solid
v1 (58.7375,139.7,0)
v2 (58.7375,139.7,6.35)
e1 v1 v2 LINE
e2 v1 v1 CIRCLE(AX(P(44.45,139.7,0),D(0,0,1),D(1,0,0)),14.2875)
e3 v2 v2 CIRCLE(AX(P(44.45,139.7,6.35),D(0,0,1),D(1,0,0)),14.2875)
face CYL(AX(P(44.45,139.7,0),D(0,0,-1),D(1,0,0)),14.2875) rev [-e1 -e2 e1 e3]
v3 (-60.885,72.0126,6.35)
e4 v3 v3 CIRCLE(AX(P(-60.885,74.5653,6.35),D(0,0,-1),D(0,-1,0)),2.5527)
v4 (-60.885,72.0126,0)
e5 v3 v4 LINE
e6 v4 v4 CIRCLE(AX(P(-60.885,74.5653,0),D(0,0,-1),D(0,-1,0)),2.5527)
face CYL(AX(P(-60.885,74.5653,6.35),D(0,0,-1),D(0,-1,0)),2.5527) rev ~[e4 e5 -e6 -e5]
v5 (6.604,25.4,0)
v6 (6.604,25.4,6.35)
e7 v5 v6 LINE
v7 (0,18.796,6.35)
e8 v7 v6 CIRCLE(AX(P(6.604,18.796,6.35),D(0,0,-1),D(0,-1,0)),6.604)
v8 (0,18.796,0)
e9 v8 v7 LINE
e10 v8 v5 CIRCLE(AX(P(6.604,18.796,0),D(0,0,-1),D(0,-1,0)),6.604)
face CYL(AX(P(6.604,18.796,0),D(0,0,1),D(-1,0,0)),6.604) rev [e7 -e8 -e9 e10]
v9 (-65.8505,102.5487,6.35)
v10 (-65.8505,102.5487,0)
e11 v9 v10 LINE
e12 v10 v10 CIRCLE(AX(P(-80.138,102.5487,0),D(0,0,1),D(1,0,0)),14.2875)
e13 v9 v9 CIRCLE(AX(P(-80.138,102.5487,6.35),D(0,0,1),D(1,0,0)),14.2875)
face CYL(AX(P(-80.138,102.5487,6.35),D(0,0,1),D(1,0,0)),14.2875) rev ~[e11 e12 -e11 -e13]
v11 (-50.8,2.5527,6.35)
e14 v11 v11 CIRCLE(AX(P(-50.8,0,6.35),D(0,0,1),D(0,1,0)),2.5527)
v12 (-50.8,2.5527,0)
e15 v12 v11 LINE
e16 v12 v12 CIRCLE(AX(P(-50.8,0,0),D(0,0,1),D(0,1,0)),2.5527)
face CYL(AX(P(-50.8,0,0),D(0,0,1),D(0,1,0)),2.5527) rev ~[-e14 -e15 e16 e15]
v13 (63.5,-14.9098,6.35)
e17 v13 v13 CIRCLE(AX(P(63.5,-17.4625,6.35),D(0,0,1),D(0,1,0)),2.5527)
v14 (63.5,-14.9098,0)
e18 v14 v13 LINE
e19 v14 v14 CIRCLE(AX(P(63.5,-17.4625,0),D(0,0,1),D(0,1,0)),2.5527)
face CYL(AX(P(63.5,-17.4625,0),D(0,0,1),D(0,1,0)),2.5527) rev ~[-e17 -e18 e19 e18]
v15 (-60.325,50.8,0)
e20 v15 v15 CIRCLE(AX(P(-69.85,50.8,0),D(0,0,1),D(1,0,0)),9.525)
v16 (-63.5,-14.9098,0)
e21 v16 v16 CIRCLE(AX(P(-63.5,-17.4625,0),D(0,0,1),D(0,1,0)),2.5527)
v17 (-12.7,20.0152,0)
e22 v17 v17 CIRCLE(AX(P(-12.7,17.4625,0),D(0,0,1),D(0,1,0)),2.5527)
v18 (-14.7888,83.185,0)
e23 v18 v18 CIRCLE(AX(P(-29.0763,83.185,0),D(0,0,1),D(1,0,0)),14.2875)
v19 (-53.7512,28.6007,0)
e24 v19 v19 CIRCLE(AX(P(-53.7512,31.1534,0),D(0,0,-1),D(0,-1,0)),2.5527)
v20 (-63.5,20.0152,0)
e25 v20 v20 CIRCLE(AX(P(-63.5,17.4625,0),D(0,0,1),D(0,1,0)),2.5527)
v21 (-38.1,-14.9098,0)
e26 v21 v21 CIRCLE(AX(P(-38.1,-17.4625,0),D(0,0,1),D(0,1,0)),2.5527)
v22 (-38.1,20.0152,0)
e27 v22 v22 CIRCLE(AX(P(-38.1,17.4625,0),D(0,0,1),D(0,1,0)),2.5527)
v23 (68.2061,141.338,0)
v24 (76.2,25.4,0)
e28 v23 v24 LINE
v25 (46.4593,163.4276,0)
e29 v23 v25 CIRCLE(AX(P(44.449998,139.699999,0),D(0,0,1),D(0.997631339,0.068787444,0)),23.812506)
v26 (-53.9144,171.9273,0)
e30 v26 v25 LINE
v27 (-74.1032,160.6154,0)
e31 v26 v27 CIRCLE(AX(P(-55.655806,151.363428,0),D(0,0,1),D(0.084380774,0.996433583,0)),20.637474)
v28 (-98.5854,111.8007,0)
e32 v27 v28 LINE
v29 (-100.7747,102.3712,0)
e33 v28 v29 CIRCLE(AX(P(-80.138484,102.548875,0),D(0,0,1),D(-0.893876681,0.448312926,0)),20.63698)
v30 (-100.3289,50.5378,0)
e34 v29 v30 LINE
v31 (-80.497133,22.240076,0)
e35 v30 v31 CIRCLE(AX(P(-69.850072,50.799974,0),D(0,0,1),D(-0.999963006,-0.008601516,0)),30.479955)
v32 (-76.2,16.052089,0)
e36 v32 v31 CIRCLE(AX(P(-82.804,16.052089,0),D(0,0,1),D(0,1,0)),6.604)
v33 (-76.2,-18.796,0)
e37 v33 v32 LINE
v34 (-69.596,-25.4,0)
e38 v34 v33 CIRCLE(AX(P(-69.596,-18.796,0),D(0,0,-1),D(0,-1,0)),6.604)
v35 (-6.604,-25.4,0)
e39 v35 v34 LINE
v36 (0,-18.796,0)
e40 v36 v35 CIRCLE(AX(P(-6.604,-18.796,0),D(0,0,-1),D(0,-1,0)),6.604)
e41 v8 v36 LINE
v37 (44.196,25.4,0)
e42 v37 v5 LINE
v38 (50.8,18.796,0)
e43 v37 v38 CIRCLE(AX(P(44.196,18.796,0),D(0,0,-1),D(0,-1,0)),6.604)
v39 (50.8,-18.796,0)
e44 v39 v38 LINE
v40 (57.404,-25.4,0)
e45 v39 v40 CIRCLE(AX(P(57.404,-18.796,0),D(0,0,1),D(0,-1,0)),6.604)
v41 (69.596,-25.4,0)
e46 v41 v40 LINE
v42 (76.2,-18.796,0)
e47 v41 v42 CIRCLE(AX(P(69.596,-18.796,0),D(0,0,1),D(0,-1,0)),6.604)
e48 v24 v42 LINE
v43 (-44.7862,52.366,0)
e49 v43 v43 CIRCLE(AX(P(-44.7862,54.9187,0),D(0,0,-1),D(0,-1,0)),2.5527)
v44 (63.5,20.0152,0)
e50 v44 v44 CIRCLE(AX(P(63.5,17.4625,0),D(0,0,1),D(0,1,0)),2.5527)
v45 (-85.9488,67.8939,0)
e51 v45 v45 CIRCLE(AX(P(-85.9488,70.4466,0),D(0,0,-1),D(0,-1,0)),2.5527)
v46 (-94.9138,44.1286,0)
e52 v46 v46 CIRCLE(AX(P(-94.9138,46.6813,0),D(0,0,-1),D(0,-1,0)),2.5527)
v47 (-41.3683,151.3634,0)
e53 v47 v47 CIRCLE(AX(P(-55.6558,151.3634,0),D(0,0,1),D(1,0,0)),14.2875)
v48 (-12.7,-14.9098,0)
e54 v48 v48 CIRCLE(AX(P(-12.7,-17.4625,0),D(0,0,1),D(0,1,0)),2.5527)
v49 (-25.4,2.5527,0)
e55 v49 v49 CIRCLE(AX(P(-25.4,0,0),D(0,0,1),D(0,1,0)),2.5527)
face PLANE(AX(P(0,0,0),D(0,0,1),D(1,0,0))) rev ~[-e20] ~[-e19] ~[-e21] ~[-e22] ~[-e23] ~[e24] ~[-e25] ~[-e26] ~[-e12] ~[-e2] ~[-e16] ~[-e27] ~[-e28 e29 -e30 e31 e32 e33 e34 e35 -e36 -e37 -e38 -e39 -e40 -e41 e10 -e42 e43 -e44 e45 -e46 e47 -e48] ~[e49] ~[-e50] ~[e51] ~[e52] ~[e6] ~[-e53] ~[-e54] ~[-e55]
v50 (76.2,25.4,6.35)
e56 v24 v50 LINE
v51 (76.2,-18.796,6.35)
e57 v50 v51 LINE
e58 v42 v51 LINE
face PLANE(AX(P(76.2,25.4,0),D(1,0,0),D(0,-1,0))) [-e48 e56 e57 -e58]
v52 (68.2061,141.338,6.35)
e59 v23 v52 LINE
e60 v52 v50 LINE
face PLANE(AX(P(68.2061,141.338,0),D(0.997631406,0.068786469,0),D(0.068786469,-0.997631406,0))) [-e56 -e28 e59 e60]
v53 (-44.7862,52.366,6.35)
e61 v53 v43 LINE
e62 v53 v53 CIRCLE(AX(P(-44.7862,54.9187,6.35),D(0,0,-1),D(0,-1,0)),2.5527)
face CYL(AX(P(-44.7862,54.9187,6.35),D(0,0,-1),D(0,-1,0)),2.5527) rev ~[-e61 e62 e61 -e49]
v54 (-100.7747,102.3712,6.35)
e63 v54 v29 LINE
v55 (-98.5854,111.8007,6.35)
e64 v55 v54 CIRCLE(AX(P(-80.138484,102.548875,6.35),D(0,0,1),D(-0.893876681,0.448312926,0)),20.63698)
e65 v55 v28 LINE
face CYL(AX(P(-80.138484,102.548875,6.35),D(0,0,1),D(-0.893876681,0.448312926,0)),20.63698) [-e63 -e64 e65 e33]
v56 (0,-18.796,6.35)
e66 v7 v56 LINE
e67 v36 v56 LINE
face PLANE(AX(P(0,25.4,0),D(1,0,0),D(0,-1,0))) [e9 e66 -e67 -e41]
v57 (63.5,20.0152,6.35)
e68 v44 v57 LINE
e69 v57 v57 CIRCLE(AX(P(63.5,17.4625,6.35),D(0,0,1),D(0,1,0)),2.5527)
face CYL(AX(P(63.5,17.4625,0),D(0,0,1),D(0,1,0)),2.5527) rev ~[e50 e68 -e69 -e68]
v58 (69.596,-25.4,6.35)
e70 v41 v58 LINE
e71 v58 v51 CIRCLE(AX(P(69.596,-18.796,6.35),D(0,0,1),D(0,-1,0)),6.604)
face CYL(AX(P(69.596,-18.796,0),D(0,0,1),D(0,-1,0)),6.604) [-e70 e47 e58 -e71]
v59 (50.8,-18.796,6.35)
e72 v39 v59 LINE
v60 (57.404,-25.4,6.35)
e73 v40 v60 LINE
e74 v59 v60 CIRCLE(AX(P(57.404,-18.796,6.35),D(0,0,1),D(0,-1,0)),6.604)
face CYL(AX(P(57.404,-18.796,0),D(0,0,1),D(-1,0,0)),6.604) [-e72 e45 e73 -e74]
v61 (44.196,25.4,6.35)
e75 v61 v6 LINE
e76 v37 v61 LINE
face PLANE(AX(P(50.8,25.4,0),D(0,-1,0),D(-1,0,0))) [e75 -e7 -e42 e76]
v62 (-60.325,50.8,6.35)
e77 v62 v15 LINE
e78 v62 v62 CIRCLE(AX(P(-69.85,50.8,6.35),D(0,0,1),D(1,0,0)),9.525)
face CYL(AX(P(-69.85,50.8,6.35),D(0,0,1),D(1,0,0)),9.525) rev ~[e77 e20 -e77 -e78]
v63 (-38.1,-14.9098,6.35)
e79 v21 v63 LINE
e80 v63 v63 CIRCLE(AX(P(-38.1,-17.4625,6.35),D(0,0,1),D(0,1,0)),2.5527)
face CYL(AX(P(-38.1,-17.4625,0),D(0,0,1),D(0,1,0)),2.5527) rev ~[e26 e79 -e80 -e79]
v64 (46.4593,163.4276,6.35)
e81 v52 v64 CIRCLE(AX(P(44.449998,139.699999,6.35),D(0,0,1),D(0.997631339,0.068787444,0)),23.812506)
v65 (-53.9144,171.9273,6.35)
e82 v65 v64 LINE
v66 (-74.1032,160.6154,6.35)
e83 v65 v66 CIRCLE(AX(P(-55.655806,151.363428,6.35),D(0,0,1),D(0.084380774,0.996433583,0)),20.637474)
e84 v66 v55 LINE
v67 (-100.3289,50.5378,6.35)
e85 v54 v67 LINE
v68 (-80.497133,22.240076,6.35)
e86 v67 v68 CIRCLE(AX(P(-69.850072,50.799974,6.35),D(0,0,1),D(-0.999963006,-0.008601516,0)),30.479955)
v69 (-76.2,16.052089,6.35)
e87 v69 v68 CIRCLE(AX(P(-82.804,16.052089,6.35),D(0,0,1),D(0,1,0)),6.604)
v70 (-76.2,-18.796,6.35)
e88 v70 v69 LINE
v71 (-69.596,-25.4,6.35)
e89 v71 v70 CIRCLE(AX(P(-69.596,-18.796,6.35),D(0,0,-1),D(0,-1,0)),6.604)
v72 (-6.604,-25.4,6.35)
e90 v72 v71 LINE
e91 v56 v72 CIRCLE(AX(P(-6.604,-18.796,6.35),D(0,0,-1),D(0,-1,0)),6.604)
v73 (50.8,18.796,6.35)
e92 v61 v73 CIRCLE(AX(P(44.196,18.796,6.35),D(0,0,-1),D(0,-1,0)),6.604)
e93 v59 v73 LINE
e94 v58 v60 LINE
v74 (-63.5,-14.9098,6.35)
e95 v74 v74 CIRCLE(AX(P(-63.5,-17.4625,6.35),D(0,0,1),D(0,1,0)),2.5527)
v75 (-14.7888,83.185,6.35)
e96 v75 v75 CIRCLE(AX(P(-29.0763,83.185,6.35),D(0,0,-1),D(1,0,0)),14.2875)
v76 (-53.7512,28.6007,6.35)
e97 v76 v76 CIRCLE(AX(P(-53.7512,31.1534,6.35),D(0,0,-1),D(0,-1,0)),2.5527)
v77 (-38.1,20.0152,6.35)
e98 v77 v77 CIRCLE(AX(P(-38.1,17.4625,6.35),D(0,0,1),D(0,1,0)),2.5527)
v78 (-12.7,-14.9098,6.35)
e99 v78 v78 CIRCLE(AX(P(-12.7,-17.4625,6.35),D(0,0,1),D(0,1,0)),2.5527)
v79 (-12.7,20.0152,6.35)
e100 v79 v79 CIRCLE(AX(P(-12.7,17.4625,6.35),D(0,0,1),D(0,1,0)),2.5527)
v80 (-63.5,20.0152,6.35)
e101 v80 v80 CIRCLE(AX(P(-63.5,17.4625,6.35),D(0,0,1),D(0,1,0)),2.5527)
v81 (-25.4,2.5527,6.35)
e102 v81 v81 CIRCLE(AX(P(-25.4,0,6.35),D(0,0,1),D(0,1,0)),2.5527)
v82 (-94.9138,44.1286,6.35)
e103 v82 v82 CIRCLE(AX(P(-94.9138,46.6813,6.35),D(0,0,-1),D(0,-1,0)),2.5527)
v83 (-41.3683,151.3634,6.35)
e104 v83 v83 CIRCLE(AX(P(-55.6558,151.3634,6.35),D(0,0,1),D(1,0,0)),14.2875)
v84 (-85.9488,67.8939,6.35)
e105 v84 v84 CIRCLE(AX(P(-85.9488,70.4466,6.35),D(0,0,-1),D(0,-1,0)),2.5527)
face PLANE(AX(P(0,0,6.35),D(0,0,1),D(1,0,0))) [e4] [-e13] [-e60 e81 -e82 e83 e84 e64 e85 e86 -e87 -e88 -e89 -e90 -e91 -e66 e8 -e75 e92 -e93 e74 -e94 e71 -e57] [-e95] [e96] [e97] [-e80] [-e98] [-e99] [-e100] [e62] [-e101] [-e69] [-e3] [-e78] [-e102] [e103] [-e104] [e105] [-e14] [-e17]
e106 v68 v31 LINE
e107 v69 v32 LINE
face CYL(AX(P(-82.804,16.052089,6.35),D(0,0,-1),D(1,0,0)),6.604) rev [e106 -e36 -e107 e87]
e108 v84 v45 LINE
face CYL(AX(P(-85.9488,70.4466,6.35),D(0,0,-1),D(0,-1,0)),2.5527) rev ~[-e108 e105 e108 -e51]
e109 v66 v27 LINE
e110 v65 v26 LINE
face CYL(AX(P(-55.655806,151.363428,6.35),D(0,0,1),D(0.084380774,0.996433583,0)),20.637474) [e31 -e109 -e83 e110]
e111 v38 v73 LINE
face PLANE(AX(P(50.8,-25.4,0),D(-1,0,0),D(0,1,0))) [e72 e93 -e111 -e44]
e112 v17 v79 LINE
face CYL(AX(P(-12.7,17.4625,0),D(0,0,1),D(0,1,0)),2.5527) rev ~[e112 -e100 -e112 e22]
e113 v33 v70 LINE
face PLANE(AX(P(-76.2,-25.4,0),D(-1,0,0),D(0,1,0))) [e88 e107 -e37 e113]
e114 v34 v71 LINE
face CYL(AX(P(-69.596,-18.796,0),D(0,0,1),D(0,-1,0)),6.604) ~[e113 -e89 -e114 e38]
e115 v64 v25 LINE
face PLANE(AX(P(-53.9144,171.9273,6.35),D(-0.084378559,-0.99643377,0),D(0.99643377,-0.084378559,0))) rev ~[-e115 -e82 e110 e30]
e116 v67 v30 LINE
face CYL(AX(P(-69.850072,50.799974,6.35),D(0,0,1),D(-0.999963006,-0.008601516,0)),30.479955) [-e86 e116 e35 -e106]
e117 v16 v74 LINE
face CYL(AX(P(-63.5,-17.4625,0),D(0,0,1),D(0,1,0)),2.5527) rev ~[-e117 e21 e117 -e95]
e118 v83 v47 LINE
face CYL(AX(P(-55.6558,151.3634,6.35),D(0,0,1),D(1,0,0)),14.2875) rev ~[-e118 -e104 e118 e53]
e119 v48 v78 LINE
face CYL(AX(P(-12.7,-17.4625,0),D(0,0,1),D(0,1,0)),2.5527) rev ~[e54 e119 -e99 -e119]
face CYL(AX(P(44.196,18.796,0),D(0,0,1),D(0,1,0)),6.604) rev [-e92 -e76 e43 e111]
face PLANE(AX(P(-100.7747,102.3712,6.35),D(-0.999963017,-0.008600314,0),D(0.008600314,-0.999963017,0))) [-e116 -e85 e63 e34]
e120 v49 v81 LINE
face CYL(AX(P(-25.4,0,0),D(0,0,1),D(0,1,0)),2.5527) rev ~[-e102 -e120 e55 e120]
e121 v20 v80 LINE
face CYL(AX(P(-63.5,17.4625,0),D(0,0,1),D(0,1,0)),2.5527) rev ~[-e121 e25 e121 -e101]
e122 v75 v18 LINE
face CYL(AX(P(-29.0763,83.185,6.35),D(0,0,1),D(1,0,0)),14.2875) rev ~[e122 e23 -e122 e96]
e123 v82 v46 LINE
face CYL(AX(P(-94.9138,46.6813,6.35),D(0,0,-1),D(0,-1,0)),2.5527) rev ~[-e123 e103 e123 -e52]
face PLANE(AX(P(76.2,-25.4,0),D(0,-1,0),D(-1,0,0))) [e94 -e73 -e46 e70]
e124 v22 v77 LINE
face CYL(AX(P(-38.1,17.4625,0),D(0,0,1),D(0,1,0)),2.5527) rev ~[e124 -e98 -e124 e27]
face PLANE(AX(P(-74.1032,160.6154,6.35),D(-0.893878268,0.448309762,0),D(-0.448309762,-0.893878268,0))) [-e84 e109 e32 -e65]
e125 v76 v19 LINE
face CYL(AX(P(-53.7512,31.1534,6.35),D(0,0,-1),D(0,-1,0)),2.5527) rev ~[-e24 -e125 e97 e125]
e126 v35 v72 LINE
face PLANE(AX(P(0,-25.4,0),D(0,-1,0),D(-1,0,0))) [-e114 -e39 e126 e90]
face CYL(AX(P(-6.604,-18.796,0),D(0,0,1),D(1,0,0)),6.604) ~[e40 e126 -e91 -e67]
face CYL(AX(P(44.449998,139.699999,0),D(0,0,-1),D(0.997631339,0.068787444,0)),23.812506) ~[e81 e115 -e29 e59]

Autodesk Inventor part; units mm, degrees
ref_plane "YZ Plane" through (0, 0, 0) normal (1, 0, 0) x (0, 1, 0)
ref_plane "XZ Plane" through (0, 0, 0) normal (0, 1, 0) x (-1, 0, 0)
ref_plane "XY Plane" through (0, 0, 0) normal (0, 0, 1) x (1, 0, 0)
sketch "Sketch1" plane through (0, 0, 0) normal (0, 0, 1) x (1, 0, 0)
  line L0 (-76.2, 25.4) -> (76.2, 25.4) construction
  line L1 (76.2, 25.4) -> (76.2, -25.4) construction
  line L2 (76.2, -25.4) -> (-76.2, -25.4) construction
  line L3 (-76.2, -25.4) -> (-76.2, 25.4) construction
  line L4 (-76.2, 25.4) -> (76.2, -25.4) construction
  line L5 (76.2, 25.4) -> (-76.2, -25.4) construction
  line L6 (63.5, 17.4625) -> (63.5, -17.4625) construction
  line L7 (9.525, 15.875) -> (41.275, 15.875) construction
  line L8 (41.275, 15.875) -> (41.275, -15.875) construction
  line L9 (41.275, -15.875) -> (9.525, -15.875) construction
  line L10 (9.525, -15.875) -> (9.525, 15.875) construction
  line L11 (9.525, 15.875) -> (41.275, -15.875) construction
  line L12 (41.275, 15.875) -> (9.525, -15.875) construction
  line L13 (76.2, 101.6) -> (187.452, 101.6) construction
  line L14 (187.452, 101.6) -> (187.452, -25.4) construction
  line L15 (187.452, -25.4) -> (76.2, -25.4) construction
  line L16 (76.2, -25.4) -> (76.2, 101.6) construction
  line L17 (76.2, 101.6) -> (187.452, -25.4) construction
  line L18 (187.452, 101.6) -> (76.2, -25.4) construction
  point P0 (0, 0)
  point P1 (63.5, 0)
  point P2 (25.4, 0)
  point P3 (50.8, 0)
  point P4 (0, 0)
  point P5 (9.525, 0)
  point P6 (-12.7, 17.4625)
  point P7 (-12.7, -17.4625)
  point P8 (-25.4, 0)
  point P9 (-38.1, 17.4625)
  point P10 (-38.1, -17.4625)
  point P11 (-50.8, 0)
  point P12 (-63.5, 17.4625)
  point P13 (-63.5, -17.4625)
  point P14 (131.826, 38.1)
  dimension "d0" = 152.4
  dimension "d1" = 50.8
  dimension "d2" = 34.925
  dimension "d3" = 12.7
  dimension "d4" = 31.75
  dimension "d5" = 31.75
  dimension "d6" = 34.925
  dimension "d7" = 25.4
  dimension "d8" = 9.525
  dimension "d9" = 12.7
  dimension "d10" = 12.7
  dimension "d11" = 12.7
  dimension "d12" = 12.7
  dimension "d13" = 12.7
  dimension "d14" = 111.252
  dimension "d15" = 127
  dimension "d16" = 76.2
sketch "Sketch2" plane through (0, 0, 0) normal (0, 0, 1) x (1, 0, 0)
  line L0 (63.5, 17.4625) -> (63.5, -17.4625) construction
  line L1 (76.2, 25.4) -> (76.2, -25.4) construction
  line L2 (76.2, -25.4) -> (76.2, 101.6) construction
  line L3 (187.452, -25.4) -> (76.2, -25.4) construction
  line L4 (187.452, 101.6) -> (187.452, -25.4) construction
  line L5 (76.2, 101.6) -> (187.452, -25.4) construction
  line L6 (187.452, 101.6) -> (76.2, -25.4) construction
  line L7 (76.2, 101.6) -> (187.452, 101.6) construction
  line L8 (9.525, 15.875) -> (41.275, 15.875) construction
  line L9 (41.275, 15.875) -> (41.275, -15.875) construction
  line L10 (41.275, -15.875) -> (9.525, -15.875) construction
  line L11 (9.525, -15.875) -> (9.525, 15.875) construction
  line L12 (9.525, 15.875) -> (41.275, -15.875) construction
  line L13 (41.275, 15.875) -> (9.525, -15.875) construction
  line L14 (-76.2, 25.4) -> (76.2, 25.4) construction
  line L15 (76.2, -25.4) -> (-76.2, -25.4) construction
  line L16 (-76.2, 25.4) -> (76.2, -25.4) construction
  line L17 (76.2, 25.4) -> (-76.2, -25.4) construction
  line L18 (-76.2, -25.4) -> (-76.2, 25.4) construction
  line L19 (0, 25.4) -> (0, -25.4)
  line L20 (0, -25.4) -> (-76.2, -25.4)
  line L21 (-76.2, -25.4) -> (-76.2, 25.4)
  line L22 (-76.2, 25.4) -> (25.7652, 154.4619)
  circle A0 centre (44.45, 139.7) radius 14.2875
  circle A1 centre (44.45, 139.7) radius 23.8125 construction
  line L23 (68.2061, 141.338) -> (76.2, 25.4)
  line L24 (76.2, 25.4) -> (76.2, -25.4)
  line L25 (76.2, -25.4) -> (50.8, -25.4)
  line L26 (50.8, -25.4) -> (50.8, 25.4)
  line L27 (50.8, 25.4) -> (0, 25.4)
  arc A2 (68.2061, 141.338) -> (25.7652, 154.4619) centre (44.45, 139.7) ccw
  point P0 (0, 0)
  point P1 (63.5, 0)
  point P2 (131.826, 38.1)
  point P3 (9.525, 0)
  point P4 (0, 0)
  point P5 (25.4, 0)
  point P6 (-63.5, -17.4625)
  point P7 (-63.5, 17.4625)
  point P8 (-50.8, 0)
  point P9 (-38.1, -17.4625)
  point P10 (-38.1, 17.4625)
  point P11 (-25.4, 0)
  point P12 (-12.7, -17.4625)
  point P13 (-12.7, 17.4625)
  point P14 (0, 0)
  point P15 (50.8, 0)
  point P16 (0, 0)
  dimension "d17" = 28.575
  dimension "d18" = 9.525
  dimension "d20" = 9.525
  dimension "d21" = 9.525
  dimension "d31" = 165.1
  dimension "d32" = 19.05
extrude "Extrusion1" add sketch "Sketch2" along normal blind 6.35
hole "Hole1" at (76.2, 101.6, 0) at (131.826, 38.1, 0) at (187.452, -25.4, 0) at (9.525, 0, 0) at (9.525, 15.875, 0) at (41.275, -15.875, 0) at (41.275, 15.875, 0) at (9.525, -15.875, 0) at (25.4, 0, 0) at (-63.5, -17.4625, 0) at (-63.5, 17.4625, 0) at (-50.8, 0, 0) at (-38.1, -17.4625, 0) at (-38.1, 17.4625, 0) at (-25.4, 0, 0) at (-12.7, -17.4625, 0) at (-12.7, 17.4625, 0) at (63.5, 17.4625, 0) at (63.5, -17.4625, 0) direction (0, 0, 1) diameter 5.1054 end through all clearance for "Flat Head Machine Screw (82)" size "#10" standard "Ansi Unified Screw Threads"
fillet "Fillet1" radius 6.604 7 edges at (50.8, 25.4, 3.175) (0, 25.4, 3.175) (0, -25.4, 3.175) (50.8, -25.4, 3.175) (76.2, -25.4, 3.175) (-76.2, -25.4, 3.175) (-76.2, 25.4, 3.175)
sketch "Sketch4" plane through (0, 0, 6.35) normal (0, 0, 1) x (1, 0, 0)
  circle A0 centre (-69.85, 50.8) radius 25.4 construction
  circle A1 centre (-69.85, 50.8) radius 30.48 construction
  circle A2 centre (-69.85, 50.8) radius 9.525
  circle A3 centre (-69.85, 50.8) radius 6.35 construction
  circle A4 centre (-29.0763, 83.185) radius 45.72 construction
  circle A5 centre (63.5, 17.4625) radius 2.5527 construction
  circle A6 centre (-12.7, -17.4625) radius 2.5527 construction
  circle A7 centre (-38.1, 17.4625) radius 2.5527 construction
  circle A8 centre (-50.8, 0) radius 2.5527 construction
  circle A9 centre (-63.5, -17.4625) radius 2.5527 construction
  circle A10 centre (-63.5, 17.4625) radius 2.5527 construction
  circle A11 centre (-38.1, -17.4625) radius 2.5527 construction
  circle A12 centre (-25.4, 0) radius 2.5527 construction
  circle A13 centre (-12.7, 17.4625) radius 2.5527 construction
  circle A14 centre (63.5, -17.4625) radius 2.5527 construction
  circle A15 centre (44.45, 139.7) radius 14.2875 construction
  arc A16 (68.2061, 141.338) -> (25.7652, 154.4619) centre (44.45, 139.7) ccw construction
  line L0 (68.2061, 141.338) -> (76.2, 25.4) construction
  line L1 (76.2, 25.4) -> (76.2, -18.796) construction
  arc A17 (69.596, -25.4) -> (76.2, -18.796) centre (69.596, -18.796) ccw construction
  line L2 (69.596, -25.4) -> (57.404, -25.4) construction
  arc A18 (50.8, -18.796) -> (57.404, -25.4) centre (57.404, -18.796) ccw construction
  line L3 (50.8, -18.796) -> (50.8, 18.796) construction
  arc A19 (50.8, 18.796) -> (44.196, 25.4) centre (44.196, 18.796) ccw construction
  line L4 (44.196, 25.4) -> (6.604, 25.4) construction
  arc A20 (6.604, 25.4) -> (0, 18.796) centre (6.604, 18.796) ccw construction
  line L5 (0, 18.796) -> (0, -18.796) construction
  arc A21 (-6.604, -25.4) -> (0, -18.796) centre (-6.604, -18.796) ccw construction
  line L6 (-6.604, -25.4) -> (-69.596, -25.4) construction
  arc A22 (-76.2, -18.796) -> (-69.596, -25.4) centre (-69.596, -18.796) ccw construction
  line L7 (-76.2, -18.796) -> (-76.2, 23.106) construction
  arc A23 (-74.7779, 27.2) -> (-76.2, 23.106) centre (-69.596, 23.106) ccw projected
  line L8 (-74.7779, 27.2) -> (25.7652, 154.4619) projected
  line L9 (76.2, -25.4) -> (-127, -25.4) construction
  line L10 (-127, -25.4) -> (-127, 25.4) construction
  line L11 (-127, 25.4) -> (76.2, 25.4) construction
  line L12 (76.2, 25.4) -> (76.2, -25.4) construction
  circle A24 centre (-29.0763, 83.185) radius 14.2875
  arc A25 (61.8711, 140.9012) -> (30.7478, 150.5254) centre (44.45, 139.7) ccw construction
  line L13 (61.8711, 140.9012) -> (69.85, 25.1813) construction
  line L14 (69.85, 25.1813) -> (69.85, -19.05) construction
  line L15 (69.85, -19.05) -> (57.15, -19.05) construction
  line L16 (57.15, -19.05) -> (57.15, 18.796) construction
  arc A26 (57.15, 18.796) -> (44.196, 31.75) centre (44.196, 18.796) ccw construction
  line L17 (44.196, 31.75) -> (6.604, 31.75) construction
  arc A27 (6.604, 31.75) -> (-6.35, 18.796) centre (6.604, 18.796) ccw construction
  line L18 (-6.35, 18.796) -> (-6.35, -19.05) construction
  line L19 (-6.35, -19.05) -> (-69.85, -19.05) construction
  line L20 (-69.85, -19.05) -> (-69.85, 23.1943) construction
  line L21 (-69.85, 23.1943) -> (30.7478, 150.5254) construction
  circle A28 centre (-29.0763, 83.185) radius 12.7 construction
  circle A29 centre (-80.138, 102.5487) radius 41.91 construction
  circle A30 centre (-80.138, 102.5487) radius 12.7 construction
  circle A31 centre (-55.6558, 151.3634) radius 41.91 construction
  circle A32 centre (-80.138, 102.5487) radius 14.2875
  circle A33 centre (-55.6558, 151.3634) radius 14.2875
  circle A34 centre (-80.138, 102.5487) radius 20.6375 construction
  circle A35 centre (-55.6558, 151.3634) radius 20.6375 construction
  arc A36 (68.2061, 141.338) -> (25.7652, 154.4619) centre (44.45, 139.7) ccw construction
  arc A37 (46.4593, 163.4276) -> (25.7652, 154.4619) centre (44.45, 139.7) ccw
  circle A38 centre (44.45, 139.7) radius 14.2875 construction
  arc A39 (27.8994, 100.6165) -> (37.3281, 181.5416) centre (44.45, 139.7) ccw construction
  circle A40 centre (-80.138, 102.5487) radius 7.366 construction
  line L22 (-76.2, 23.106) -> (-76.2, -18.796) construction
  arc A41 (-100.3289, 50.5378) -> (-76.2, 20.9888) centre (-69.85, 50.8) ccw
  line L23 (-76.2, 20.9888) -> (-76.2, 23.106)
  arc A42 (-58.0297, 165.3106) -> (-61.1726, 138.3355) centre (-55.6558, 151.3634) ccw construction
  line L24 (37.3281, 181.5416) -> (-58.0297, 165.3106) construction
  line L25 (27.8994, 100.6165) -> (-61.1726, 138.3355) construction
  line L26 (-74.1032, 160.6154) -> (-98.5854, 111.8007)
  line L27 (-53.9144, 171.9273) -> (46.4593, 163.4276)
  line L28 (-100.7747, 102.3712) -> (-100.3289, 50.5378)
  arc A43 (-98.5854, 111.8007) -> (-100.7747, 102.3712) centre (-80.138, 102.5487) ccw
  arc A44 (-53.9144, 171.9273) -> (-74.1032, 160.6154) centre (-55.6558, 151.3634) ccw
  point P0 (0, 0)
  point P1 (76.2, 3.302)
  point P2 (76.2, 0)
  point P3 (-44.7862, 54.9187)
  point P4 (-60.885, 74.5653)
  point P5 (-85.9488, 70.4466)
  point P6 (-94.9138, 46.6813)
  point P7 (-78.815, 27.0347)
  point P8 (-53.7512, 31.1534)
  point P9 (-38.81, 72.7262)
  point P10 (-21.1536, 95.0747)
  dimension "d45" = 50.8
  dimension "d46" = 60.96
  dimension "d47" = 19.05
  dimension "d48" = 12.7
  dimension "d49" = 91.44
  dimension "d50" = 6.35
  dimension "d52" = 203.2
  dimension "d53" = 50.8
  dimension "d54" = 76.2
  dimension "d55" = 28.575
  dimension "d56" = 6.35
  dimension "d57" = 25.4
  dimension "d58" = 83.82
  dimension "d59" = 57.785
  dimension "d60" = 25.4
  dimension "d61" = 83.82
  dimension "d64" = 6.35
  dimension "d65" = 6.35
  dimension "d70" = 360
  dimension "d82" = 84.8868
  dimension "d83" = 14.732
  dimension "d86" = 28.2956
  dimension "d92" = 96.7293
  dimension "d93" = 157.4973
  dimension "d94" = 36.3942
  dimension "d95" = 127.9487
extrude "Extrusion3" add sketch "Sketch4" against normal up to surface (6.35 mm away) contours A23 L23 A41 L28 A43 L26 A44 L27 A37 L8 A24 | L8 A24 picked at (-24.9221, 78.7661)
extrude "Extrusion4" cut sketch "Sketch4" against normal through all contours A2 | A24 L8 | L8 A24
hole "Hole2" at (-44.7862, 54.9187, 6.35) at (-60.885, 74.5653, 6.35) at (-85.9488, 70.4466, 6.35) at (-53.7512, 31.1534, 6.35) at (-94.9138, 46.6813, 6.35) direction (0, 0, -1) diameter 5.1054 end through all clearance for "Flat Head Machine Screw (82)" size "#10" standard "Ansi Unified Screw Threads"
fillet "Fillet4" radius 6.604 1 edges at (-76.2, 20.9888, 3.175)
equation "\"off\" = 6.35"
properties part number "CL3-015" material "Aluminum 6061"
